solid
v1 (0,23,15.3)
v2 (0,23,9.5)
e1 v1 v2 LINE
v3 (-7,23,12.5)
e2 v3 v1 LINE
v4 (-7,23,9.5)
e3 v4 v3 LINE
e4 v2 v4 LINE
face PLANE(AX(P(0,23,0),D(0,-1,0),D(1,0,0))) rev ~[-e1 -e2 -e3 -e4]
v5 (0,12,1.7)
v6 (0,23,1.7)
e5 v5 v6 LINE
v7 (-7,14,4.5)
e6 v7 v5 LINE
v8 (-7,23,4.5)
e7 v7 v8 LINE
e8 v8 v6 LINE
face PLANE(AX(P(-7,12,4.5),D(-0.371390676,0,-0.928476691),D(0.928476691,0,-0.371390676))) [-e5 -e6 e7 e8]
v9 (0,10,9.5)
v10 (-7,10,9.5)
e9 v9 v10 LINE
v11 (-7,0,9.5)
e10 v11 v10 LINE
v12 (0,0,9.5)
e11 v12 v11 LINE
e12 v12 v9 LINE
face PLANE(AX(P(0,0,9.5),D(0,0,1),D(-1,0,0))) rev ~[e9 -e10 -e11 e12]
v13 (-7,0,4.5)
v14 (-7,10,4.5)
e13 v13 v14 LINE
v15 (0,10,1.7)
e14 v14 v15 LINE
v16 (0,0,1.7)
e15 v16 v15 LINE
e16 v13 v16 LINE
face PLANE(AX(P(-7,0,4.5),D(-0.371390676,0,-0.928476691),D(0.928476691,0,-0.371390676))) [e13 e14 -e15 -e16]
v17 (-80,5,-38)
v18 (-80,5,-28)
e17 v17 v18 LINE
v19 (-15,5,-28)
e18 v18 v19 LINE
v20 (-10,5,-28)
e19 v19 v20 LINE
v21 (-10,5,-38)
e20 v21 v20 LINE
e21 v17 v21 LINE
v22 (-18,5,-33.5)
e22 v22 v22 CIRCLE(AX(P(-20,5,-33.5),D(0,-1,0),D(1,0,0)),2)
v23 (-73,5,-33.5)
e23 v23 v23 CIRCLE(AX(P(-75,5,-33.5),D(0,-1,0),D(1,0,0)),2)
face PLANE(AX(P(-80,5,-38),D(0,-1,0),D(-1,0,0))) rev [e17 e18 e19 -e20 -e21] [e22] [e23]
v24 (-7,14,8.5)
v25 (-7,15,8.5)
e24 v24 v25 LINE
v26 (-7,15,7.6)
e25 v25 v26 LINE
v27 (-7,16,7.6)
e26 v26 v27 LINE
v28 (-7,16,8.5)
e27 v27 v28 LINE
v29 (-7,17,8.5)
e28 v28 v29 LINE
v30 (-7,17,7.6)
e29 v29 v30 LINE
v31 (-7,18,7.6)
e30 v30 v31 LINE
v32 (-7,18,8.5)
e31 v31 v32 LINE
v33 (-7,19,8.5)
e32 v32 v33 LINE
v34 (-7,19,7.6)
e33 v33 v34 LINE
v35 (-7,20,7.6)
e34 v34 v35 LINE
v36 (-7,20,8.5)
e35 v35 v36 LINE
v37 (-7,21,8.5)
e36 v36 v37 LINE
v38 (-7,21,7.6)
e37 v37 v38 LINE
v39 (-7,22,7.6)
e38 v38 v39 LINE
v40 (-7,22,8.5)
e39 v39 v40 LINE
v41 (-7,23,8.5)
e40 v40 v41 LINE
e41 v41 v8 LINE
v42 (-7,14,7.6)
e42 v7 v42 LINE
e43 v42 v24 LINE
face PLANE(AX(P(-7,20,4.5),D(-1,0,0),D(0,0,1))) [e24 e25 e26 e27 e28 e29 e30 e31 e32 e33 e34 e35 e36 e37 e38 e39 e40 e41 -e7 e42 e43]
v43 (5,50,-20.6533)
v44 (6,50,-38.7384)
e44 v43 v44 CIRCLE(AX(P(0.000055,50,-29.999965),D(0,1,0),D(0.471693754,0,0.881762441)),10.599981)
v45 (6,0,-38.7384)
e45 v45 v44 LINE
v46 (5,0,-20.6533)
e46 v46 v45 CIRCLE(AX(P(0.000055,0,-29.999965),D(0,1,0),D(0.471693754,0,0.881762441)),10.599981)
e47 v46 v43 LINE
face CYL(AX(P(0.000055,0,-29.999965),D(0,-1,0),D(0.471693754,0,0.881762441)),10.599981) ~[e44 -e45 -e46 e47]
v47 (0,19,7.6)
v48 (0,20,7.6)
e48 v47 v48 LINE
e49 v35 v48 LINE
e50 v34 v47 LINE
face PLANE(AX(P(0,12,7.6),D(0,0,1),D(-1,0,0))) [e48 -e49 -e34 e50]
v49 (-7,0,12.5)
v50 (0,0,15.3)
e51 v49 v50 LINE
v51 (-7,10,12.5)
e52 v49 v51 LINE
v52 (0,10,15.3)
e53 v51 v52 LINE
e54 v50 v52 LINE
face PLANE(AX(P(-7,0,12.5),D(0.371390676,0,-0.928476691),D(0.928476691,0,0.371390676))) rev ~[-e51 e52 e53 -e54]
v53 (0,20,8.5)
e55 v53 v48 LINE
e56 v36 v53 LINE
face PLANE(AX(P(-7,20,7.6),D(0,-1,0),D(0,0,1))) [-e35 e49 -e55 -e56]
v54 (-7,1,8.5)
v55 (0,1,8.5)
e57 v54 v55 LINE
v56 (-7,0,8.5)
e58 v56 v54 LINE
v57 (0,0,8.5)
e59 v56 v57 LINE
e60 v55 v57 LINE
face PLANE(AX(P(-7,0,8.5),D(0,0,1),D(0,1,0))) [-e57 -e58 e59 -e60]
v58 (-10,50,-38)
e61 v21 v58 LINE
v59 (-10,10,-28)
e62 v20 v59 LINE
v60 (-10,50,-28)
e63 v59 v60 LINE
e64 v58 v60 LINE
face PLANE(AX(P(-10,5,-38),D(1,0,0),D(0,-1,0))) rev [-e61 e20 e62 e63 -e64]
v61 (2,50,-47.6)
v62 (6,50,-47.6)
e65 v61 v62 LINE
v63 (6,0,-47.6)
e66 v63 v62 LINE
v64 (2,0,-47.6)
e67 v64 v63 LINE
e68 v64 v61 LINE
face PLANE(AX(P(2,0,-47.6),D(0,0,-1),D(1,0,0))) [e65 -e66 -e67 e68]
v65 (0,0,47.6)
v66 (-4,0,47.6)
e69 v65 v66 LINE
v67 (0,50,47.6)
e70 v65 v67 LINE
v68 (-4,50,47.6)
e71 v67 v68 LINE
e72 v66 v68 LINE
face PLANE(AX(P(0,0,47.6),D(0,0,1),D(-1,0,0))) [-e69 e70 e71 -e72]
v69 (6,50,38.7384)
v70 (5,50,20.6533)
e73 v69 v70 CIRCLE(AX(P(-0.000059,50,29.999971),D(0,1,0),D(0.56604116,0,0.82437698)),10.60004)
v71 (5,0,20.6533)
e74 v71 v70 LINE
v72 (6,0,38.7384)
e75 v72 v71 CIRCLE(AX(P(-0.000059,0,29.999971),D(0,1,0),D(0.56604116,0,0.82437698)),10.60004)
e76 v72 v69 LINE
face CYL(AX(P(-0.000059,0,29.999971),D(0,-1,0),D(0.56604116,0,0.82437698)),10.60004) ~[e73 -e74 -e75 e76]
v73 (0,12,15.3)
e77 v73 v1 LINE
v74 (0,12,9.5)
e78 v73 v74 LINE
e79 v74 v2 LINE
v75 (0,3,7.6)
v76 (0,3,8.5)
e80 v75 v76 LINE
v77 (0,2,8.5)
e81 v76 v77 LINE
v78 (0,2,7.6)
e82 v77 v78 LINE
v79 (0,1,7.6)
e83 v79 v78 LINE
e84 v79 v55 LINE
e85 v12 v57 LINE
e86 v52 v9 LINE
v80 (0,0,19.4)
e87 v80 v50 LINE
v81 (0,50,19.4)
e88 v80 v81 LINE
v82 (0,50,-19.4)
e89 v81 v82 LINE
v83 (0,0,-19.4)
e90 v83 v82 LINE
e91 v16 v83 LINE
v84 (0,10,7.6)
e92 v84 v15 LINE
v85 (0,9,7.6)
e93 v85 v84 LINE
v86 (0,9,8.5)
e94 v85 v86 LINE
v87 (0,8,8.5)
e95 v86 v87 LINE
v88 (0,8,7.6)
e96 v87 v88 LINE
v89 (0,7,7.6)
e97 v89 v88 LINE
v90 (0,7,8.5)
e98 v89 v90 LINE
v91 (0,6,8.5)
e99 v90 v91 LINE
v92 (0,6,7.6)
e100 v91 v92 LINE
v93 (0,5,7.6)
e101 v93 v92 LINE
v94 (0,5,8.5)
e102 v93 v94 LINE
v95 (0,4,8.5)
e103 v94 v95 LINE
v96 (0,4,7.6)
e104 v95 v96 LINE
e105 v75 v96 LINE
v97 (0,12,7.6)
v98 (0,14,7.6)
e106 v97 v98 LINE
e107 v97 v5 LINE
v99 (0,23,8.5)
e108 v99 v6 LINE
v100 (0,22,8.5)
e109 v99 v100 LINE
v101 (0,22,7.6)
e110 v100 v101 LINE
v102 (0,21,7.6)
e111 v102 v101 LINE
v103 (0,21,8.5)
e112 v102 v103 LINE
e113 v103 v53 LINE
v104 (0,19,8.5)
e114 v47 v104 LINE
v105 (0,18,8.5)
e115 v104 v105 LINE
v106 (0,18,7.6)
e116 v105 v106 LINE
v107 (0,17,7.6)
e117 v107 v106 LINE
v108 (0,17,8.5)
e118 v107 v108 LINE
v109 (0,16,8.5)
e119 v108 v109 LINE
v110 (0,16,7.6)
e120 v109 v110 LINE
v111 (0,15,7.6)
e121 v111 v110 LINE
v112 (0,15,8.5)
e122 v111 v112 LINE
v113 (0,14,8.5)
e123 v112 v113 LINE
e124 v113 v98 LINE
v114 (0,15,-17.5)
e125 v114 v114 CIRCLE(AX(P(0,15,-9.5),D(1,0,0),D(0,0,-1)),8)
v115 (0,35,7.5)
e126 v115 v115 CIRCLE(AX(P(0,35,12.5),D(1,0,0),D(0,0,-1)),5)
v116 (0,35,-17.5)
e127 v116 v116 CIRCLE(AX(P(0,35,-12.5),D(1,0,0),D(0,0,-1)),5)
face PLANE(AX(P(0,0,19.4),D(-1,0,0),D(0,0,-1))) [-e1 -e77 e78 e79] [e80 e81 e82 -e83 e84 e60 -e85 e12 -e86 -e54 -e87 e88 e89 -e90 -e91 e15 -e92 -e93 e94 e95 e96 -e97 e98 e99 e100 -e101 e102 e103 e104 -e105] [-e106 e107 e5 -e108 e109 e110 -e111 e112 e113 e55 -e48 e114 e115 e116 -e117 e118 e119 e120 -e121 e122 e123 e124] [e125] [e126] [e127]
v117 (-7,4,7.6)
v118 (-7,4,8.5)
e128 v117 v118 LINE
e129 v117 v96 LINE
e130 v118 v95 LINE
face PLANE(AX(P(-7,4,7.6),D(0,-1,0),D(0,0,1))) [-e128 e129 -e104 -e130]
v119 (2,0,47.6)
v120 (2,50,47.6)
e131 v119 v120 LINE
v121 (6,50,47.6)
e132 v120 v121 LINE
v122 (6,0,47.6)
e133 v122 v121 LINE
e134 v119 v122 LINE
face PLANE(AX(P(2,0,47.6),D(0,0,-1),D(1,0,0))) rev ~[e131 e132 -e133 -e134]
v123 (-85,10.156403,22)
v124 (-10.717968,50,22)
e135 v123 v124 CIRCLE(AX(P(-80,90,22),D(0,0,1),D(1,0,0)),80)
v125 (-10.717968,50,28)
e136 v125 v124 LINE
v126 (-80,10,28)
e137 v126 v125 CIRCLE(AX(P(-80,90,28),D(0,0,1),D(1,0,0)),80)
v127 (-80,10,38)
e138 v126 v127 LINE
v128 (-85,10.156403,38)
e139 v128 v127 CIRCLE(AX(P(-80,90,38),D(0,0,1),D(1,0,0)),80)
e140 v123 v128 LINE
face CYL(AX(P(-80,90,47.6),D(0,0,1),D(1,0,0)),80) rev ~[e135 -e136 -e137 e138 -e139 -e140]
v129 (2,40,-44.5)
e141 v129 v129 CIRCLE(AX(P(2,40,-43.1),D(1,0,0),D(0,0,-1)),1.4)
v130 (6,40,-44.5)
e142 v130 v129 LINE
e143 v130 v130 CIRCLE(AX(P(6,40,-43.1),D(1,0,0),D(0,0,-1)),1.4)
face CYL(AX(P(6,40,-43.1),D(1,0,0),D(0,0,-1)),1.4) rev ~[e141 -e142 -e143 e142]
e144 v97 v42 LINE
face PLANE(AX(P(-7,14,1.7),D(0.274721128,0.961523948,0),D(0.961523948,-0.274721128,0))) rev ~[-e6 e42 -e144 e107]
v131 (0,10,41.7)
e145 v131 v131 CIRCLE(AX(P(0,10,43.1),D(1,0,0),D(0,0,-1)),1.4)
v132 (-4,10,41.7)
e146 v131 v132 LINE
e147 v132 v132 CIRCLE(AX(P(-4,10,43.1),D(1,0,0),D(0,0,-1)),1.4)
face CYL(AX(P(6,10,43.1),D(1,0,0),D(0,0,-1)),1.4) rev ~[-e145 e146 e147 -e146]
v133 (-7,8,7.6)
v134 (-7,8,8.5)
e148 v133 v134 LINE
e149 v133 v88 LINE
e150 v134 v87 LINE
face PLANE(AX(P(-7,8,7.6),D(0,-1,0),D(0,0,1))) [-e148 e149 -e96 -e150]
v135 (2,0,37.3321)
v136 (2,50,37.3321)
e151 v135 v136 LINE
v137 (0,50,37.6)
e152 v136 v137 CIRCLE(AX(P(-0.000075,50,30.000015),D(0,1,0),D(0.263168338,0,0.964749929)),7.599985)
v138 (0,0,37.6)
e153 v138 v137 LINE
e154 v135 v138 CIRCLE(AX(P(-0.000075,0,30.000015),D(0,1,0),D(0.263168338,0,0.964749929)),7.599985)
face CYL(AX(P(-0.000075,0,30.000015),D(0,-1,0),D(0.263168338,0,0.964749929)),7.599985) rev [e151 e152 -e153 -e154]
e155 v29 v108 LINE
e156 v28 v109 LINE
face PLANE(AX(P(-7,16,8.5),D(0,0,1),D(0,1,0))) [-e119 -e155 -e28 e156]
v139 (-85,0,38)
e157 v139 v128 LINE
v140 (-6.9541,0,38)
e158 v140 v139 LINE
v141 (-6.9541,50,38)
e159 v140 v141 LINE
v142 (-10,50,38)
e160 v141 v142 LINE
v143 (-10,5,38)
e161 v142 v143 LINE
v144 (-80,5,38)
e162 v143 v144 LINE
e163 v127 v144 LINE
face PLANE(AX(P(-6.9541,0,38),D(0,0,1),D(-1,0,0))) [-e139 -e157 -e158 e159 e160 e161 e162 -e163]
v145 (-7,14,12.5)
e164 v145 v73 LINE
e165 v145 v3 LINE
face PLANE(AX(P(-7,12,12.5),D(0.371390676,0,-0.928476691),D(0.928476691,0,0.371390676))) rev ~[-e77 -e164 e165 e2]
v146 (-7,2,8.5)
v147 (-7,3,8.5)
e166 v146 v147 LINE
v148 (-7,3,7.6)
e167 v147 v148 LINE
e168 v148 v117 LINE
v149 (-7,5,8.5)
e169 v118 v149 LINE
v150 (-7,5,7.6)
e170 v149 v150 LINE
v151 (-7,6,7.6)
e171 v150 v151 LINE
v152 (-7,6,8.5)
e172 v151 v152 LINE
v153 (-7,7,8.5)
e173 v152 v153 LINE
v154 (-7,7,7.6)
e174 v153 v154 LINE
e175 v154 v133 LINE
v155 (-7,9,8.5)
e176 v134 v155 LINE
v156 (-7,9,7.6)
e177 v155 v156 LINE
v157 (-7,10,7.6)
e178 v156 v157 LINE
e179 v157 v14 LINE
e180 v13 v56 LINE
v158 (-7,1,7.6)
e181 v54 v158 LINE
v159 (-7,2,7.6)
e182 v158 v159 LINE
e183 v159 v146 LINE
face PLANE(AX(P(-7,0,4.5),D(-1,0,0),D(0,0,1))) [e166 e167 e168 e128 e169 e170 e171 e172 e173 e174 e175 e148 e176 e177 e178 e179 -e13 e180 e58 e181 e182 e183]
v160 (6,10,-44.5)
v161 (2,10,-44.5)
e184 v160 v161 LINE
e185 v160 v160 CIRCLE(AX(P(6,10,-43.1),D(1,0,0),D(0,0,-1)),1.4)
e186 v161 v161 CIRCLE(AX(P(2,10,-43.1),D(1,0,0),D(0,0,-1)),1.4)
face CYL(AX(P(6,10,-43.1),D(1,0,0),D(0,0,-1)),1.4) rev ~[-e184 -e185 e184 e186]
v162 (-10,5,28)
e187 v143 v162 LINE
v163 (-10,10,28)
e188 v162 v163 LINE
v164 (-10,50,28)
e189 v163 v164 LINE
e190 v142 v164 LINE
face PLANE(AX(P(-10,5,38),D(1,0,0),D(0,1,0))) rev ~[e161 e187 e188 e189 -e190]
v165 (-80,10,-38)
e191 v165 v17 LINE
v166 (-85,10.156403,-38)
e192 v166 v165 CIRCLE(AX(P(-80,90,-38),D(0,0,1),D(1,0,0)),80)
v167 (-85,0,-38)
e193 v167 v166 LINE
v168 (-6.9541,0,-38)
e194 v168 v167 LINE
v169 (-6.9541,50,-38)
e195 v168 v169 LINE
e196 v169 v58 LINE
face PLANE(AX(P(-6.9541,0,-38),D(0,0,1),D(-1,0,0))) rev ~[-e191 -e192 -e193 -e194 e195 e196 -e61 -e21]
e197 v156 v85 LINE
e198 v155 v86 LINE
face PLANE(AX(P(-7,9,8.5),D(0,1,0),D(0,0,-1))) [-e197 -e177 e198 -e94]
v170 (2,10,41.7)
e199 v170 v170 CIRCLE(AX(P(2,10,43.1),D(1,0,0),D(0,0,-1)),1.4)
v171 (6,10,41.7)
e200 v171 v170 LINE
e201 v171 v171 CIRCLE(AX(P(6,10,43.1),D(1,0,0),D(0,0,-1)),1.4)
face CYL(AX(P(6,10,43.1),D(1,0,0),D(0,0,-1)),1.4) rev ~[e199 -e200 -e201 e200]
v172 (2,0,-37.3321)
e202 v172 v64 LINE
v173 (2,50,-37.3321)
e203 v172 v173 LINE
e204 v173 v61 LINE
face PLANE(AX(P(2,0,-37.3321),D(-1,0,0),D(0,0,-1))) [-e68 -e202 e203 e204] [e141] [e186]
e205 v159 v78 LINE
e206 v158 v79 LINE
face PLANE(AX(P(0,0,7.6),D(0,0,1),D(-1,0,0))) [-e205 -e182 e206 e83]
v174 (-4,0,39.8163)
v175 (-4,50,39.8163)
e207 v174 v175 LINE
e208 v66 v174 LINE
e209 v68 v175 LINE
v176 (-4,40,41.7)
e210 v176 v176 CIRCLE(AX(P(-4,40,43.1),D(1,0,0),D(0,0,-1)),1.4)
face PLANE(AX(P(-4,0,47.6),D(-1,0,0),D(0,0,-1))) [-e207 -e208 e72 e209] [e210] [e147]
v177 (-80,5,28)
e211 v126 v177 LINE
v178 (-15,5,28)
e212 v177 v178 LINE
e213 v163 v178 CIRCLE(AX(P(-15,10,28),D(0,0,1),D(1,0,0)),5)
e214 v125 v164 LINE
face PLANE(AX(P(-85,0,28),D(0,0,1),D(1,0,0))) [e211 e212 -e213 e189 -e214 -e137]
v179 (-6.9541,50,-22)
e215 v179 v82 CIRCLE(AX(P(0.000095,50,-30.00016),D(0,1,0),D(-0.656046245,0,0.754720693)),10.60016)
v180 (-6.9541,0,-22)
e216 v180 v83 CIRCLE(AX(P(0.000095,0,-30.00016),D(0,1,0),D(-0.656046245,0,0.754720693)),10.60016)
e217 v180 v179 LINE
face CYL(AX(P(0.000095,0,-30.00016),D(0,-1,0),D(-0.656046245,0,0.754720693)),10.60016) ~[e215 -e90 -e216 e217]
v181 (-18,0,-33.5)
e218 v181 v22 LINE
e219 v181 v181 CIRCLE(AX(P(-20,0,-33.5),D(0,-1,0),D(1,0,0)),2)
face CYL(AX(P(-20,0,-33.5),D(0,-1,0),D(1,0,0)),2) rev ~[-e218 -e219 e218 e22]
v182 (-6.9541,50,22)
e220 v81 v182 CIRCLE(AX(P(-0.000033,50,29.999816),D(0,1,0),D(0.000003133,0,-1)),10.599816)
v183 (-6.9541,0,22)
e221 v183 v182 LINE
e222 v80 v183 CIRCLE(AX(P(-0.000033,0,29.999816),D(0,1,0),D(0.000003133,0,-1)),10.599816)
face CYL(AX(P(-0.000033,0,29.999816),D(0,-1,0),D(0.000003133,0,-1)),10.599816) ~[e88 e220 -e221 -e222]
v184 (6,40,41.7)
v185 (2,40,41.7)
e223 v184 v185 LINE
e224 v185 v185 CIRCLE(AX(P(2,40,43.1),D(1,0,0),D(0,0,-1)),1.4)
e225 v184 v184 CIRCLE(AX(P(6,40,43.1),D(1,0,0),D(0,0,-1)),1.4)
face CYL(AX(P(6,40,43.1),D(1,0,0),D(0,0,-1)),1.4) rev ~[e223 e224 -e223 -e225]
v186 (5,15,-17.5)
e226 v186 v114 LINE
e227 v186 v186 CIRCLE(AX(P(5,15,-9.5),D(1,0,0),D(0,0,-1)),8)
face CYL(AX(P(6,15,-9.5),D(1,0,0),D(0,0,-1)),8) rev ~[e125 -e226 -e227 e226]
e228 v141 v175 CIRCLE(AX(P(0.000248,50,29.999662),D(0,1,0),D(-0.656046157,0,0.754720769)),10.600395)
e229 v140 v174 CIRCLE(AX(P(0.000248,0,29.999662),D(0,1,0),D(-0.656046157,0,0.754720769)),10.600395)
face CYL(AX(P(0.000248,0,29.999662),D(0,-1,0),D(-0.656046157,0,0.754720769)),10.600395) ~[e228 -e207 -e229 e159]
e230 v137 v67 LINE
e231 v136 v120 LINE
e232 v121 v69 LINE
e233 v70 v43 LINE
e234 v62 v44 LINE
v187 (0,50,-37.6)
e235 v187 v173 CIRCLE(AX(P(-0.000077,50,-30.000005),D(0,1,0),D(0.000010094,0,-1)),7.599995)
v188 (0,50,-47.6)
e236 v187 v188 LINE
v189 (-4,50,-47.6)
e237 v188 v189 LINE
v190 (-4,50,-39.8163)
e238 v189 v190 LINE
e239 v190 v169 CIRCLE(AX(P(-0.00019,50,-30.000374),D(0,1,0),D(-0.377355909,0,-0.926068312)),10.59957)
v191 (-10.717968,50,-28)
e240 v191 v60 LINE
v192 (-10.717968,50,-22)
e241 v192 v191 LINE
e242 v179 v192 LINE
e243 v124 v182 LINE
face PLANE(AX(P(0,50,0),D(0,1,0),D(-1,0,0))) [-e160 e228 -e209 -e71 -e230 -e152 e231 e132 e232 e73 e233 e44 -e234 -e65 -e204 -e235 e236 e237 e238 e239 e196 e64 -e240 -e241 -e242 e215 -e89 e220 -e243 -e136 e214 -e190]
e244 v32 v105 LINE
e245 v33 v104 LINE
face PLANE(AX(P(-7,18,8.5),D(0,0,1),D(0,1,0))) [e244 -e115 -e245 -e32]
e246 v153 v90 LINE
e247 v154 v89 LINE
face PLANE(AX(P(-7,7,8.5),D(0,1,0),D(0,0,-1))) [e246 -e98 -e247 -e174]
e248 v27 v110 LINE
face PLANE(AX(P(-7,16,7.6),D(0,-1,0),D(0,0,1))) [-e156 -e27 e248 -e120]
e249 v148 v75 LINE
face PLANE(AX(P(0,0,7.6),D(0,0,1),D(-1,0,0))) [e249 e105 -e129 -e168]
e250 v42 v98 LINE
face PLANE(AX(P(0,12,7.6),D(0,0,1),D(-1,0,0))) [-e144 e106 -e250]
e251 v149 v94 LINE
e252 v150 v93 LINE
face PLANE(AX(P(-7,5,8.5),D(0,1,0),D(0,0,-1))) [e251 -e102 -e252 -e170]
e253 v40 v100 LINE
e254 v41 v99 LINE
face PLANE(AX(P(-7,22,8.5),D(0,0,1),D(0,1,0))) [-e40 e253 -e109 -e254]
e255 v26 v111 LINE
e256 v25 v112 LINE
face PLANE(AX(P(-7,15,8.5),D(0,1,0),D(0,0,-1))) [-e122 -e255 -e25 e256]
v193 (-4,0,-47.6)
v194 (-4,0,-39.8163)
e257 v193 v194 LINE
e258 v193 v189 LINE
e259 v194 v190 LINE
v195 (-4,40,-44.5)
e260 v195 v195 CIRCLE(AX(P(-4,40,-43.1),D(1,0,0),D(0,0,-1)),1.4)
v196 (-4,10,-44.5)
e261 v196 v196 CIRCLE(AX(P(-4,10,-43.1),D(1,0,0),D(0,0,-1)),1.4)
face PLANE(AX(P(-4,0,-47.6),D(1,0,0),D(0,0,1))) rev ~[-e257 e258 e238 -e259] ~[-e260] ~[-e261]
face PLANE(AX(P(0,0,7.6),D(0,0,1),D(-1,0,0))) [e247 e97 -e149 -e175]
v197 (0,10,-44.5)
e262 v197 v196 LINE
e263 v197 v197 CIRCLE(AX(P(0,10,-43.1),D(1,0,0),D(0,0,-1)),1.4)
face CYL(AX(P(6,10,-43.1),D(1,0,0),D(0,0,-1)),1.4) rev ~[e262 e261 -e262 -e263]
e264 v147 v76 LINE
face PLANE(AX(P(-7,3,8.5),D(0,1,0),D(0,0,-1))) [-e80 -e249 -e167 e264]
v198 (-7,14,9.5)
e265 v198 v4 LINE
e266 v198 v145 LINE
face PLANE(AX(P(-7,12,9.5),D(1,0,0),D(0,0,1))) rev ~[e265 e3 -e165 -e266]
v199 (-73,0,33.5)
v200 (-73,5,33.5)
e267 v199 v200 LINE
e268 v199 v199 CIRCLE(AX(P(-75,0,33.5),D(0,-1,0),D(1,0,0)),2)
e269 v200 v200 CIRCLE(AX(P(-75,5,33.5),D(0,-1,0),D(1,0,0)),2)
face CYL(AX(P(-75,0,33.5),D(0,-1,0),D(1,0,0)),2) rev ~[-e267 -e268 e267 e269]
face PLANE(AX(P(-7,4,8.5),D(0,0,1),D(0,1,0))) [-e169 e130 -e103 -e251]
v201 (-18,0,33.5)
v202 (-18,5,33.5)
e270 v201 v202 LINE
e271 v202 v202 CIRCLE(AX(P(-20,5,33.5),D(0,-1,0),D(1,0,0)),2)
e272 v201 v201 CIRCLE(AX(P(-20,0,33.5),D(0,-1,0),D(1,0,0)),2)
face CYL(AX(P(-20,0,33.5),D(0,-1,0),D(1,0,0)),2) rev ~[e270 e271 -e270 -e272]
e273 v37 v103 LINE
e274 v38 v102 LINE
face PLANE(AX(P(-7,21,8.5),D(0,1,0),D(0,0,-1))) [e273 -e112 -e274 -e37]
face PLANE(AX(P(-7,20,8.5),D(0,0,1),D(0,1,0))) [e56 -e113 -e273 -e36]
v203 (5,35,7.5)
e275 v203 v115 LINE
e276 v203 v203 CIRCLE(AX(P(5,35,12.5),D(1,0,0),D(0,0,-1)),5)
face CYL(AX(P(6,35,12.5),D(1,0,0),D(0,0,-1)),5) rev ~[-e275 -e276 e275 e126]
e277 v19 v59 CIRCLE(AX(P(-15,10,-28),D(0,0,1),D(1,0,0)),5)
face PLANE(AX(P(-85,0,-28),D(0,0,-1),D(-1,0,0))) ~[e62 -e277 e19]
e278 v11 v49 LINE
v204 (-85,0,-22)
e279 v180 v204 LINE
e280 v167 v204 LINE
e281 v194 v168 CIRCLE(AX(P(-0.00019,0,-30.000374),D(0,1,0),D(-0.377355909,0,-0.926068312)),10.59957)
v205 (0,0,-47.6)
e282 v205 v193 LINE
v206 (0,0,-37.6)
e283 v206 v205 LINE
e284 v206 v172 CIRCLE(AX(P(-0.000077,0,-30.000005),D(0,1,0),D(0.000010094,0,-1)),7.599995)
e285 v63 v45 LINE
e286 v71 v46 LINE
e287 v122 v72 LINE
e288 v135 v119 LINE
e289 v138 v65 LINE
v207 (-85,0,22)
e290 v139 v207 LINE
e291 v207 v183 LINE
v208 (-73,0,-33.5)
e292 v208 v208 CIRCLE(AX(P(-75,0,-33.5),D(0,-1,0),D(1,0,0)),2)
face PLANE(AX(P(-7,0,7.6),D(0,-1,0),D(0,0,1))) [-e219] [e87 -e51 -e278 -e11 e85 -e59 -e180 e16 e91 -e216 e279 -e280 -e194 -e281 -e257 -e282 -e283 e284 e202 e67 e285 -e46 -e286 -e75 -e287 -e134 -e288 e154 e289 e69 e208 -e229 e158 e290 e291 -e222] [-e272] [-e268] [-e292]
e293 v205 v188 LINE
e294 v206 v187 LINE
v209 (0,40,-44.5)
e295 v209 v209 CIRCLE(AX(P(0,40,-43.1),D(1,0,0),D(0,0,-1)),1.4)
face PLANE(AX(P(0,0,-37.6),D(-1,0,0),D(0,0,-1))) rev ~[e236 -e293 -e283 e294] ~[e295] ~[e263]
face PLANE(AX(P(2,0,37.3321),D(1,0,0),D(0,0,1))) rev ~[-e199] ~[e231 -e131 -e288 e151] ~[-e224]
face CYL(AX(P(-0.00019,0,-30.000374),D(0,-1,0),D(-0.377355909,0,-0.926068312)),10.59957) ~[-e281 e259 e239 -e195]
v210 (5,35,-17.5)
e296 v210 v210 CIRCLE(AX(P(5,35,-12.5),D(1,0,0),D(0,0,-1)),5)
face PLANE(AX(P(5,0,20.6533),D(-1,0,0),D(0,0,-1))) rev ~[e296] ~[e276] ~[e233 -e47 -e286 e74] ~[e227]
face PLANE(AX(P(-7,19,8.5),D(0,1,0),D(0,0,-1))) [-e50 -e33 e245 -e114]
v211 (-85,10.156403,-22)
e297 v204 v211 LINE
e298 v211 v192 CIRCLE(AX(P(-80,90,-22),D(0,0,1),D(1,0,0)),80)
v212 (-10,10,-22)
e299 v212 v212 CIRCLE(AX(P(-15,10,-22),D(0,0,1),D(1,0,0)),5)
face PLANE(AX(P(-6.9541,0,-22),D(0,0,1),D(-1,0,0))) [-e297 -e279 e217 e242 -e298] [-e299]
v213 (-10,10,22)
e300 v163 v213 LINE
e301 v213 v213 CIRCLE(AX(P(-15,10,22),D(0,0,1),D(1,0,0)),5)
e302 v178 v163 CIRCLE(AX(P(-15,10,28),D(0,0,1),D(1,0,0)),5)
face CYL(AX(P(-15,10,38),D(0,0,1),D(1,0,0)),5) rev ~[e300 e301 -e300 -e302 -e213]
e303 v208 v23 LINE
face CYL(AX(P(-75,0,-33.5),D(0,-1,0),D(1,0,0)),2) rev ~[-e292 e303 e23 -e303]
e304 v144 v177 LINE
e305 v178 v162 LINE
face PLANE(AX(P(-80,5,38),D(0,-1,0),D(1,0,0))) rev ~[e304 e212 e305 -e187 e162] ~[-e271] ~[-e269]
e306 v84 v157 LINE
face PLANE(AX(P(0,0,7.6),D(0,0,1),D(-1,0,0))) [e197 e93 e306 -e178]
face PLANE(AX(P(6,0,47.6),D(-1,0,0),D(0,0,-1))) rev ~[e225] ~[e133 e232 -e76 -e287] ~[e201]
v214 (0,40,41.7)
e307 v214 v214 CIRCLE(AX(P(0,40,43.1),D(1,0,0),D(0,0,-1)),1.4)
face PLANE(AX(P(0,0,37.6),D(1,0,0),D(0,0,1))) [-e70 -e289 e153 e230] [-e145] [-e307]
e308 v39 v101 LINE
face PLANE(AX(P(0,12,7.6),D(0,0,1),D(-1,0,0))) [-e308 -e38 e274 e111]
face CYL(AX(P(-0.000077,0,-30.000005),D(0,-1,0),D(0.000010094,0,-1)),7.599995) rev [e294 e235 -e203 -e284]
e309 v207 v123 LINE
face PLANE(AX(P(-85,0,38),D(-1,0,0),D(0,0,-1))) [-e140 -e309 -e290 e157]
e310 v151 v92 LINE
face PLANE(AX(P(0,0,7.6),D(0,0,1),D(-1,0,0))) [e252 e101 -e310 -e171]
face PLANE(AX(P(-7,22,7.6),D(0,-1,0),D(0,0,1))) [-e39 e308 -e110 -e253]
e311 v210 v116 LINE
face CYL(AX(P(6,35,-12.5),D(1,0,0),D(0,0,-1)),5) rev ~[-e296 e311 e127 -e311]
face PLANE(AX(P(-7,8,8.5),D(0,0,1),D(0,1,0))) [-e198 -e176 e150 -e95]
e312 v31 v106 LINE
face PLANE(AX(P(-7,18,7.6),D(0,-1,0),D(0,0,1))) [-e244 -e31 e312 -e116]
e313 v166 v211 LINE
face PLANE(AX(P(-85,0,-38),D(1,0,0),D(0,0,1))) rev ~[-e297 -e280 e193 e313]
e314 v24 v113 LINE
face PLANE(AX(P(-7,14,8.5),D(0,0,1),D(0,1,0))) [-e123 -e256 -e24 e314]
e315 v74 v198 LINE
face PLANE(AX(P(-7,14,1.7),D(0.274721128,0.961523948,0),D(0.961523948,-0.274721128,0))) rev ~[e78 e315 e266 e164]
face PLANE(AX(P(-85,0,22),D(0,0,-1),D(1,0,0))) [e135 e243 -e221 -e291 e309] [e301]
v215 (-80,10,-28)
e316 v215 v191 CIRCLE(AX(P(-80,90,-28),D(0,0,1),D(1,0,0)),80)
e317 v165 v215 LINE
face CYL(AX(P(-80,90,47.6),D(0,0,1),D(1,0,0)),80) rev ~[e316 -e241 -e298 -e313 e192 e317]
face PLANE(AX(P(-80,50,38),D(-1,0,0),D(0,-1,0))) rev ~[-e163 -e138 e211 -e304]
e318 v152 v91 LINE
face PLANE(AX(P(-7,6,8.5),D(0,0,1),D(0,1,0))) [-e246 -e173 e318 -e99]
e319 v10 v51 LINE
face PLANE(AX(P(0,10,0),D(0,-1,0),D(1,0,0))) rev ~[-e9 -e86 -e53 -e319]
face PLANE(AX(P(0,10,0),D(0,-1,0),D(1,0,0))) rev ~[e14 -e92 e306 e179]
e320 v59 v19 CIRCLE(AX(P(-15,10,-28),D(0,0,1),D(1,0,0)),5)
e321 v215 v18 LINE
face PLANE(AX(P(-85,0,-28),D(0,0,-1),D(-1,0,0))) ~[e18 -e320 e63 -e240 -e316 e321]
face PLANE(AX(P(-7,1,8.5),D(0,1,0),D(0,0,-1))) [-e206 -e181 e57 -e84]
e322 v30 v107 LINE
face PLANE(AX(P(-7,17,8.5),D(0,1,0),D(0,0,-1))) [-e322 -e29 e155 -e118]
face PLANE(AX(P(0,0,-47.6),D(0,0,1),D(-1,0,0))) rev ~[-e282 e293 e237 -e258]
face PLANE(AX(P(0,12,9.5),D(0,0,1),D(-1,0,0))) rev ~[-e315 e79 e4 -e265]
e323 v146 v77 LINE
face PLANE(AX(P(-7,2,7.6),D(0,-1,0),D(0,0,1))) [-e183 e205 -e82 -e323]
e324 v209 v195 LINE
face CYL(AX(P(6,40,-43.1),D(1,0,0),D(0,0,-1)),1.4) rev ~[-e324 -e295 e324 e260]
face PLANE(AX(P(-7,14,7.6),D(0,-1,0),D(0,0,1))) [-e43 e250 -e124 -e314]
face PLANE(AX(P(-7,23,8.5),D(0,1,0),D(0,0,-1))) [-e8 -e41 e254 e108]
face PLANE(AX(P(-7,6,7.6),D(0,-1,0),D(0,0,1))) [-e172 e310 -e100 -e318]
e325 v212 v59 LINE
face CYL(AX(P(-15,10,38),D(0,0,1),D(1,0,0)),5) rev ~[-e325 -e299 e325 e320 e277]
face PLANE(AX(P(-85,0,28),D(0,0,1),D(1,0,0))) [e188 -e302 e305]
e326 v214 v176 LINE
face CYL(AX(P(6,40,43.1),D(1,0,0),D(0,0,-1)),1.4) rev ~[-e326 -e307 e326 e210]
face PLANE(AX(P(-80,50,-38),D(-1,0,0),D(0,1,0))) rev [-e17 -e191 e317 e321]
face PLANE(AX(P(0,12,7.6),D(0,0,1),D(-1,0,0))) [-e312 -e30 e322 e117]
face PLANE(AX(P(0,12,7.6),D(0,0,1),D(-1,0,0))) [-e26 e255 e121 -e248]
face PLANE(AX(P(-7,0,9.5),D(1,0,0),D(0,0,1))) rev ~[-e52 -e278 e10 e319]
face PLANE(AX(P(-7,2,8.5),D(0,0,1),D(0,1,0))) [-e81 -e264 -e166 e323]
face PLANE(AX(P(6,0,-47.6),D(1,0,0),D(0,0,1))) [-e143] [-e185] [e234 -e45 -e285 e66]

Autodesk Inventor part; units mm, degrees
ref_plane "YZ Plane" through (0, 0, 0) normal (1, 0, 0) x (0, 1, 0)
sketch "Sketch1" plane through (0, 0, 0) normal (0, 1, 0) x (-1, 0, 0)
  line L0 (0, 19.4) -> (0, -19.4)
  line L1 (-5, 20.6533) -> (-5, -20.6533)
  arc A0 (-6, 38.7384) -> (-5, 20.6533) centre (0, 30) ccw
  arc A1 (-2, 37.3321) -> (0, 37.6) centre (0, 30) ccw
  arc A2 (0, 19.4) -> (6.9541, 22) centre (0, 30) ccw
  arc A3 (0, -37.6) -> (-2, -37.3321) centre (0, -30) ccw
  arc A4 (6.9541, -22) -> (0, -19.4) centre (0, -30) ccw
  arc A5 (-5, -20.6533) -> (-6, -38.7384) centre (0, -30) ccw
  line L2 (0, -37.6) -> (0, -47.6)
  line L3 (0, -47.6) -> (4, -47.6)
  line L4 (4, -47.6) -> (4, -39.8163)
  line L5 (-2, -37.3321) -> (-2, -47.6)
  line L6 (-2, -47.6) -> (-6, -47.6)
  line L7 (-6, -47.6) -> (-6, -38.7384)
  line L8 (0, 37.6) -> (0, 47.6)
  line L9 (0, 47.6) -> (4, 47.6)
  line L10 (4, 47.6) -> (4, 39.8163)
  line L11 (-2, 37.3321) -> (-2, 47.6)
  line L12 (-2, 47.6) -> (-6, 47.6)
  line L13 (-6, 47.6) -> (-6, 38.7384)
  arc A6 (6.9541, 38) -> (4, 39.8163) centre (0, 30) ccw
  arc A7 (4, -39.8163) -> (6.9541, -38) centre (0, -30) ccw
  line L14 (6.9541, 38) -> (85, 38)
  line L15 (85, 38) -> (85, 22)
  line L16 (85, 22) -> (6.9541, 22)
  line L17 (6.9541, -22) -> (85, -22)
  line L18 (6.9541, -38) -> (85, -38)
  line L19 (85, -38) -> (85, -22)
  point P0 (0, 0)
  point P1 (0, 0)
  point P2 (85, 30)
  point P3 (85, -30)
  dimension "d5" = 5
  dimension "d6" = 30
  dimension "d7" = 10.6
  dimension "d8" = 7.6
  dimension "d9" = 30
  dimension "d10" = 4
  dimension "d11" = 4
  dimension "d12" = 47.6
  dimension "d13" = 47.6
  dimension "d14" = 2
  dimension "d15" = 2
  dimension "d16" = 4
  dimension "d17" = 4
  dimension "d18" = 16
  dimension "d19" = 16
  dimension "d20" = 85
  dimension "d21" = 85
extrude "Extrusion1" add sketch "Sketch1" along normal blind 50
sketch "Sketch2" plane through (2, 0, 47.6) normal (0, 0, 1) x (1, 0, 0)
  circle A0 centre (-82, 90) radius 80
  line L0 (-87, 50) -> (-8.9541, 50) projected
  point P0 (-2, 0)
  dimension "d24" = 160
  dimension "d25" = 80
  dimension "d26" = 40
extrude "Extrusion2" cut sketch "Sketch2" against normal through all
sketch "Sketch3" plane through (-85, 0, 38) normal (0, 0, 1) x (1, 0, 0)
  circle A0 centre (70, 10) radius 5
  line L0 (78.0459, 0) -> (0, 0) projected
  line L1 (85, 0) -> (85, 50) projected
  dimension "d29" = 10
  dimension "d30" = 10
  dimension "d31" = 15
extrude "Extrusion3" cut sketch "Sketch3" against normal through all
sketch "Sketch4" plane through (-85, 0, 38) normal (0, 0, 1) x (1, 0, 0)
  line L0 (74.282, 50) -> (78.0459, 50) projected
  line L1 (75, 50) -> (5, 50)
  line L2 (5, 50) -> (5, 5)
  line L3 (5, 5) -> (75, 5)
  line L4 (75, 5) -> (75, 50)
  line L5 (0, 0) -> (0, 10.1564) projected
  line L6 (78.0459, 0) -> (0, 0) projected
  point P0 (85, 0)
  dimension "d34" = 5
  dimension "d35" = 5
  dimension "d36" = 70
extrude "Extrusion4" cut sketch "Sketch4" against normal blind 10
mirror "Mirror1" about plane through (0, 0, 0) normal (0, 0, 1) of "Extrusion4"
sketch "Sketch5" plane through (0, 0, 0) normal (0, -1, 0) x (1, 0, 0)
  circle A0 centre (-75, -33.5) radius 2
  circle A1 centre (-20, -33.5) radius 2
  circle A2 centre (-75, 33.5) radius 2
  circle A3 centre (-20, 33.5) radius 2
  line L0 (0, 19.4) -> (0, -19.4) projected
  point P0 (0, 0)
  dimension "d39" = 4
  dimension "d40" = 20
  dimension "d41" = 55
  dimension "d42" = 33.5
  dimension "d43" = 33.5
extrude "Extrusion5" cut sketch "Sketch5" against normal up to next
sketch "Sketch6" plane through (6, 0, 47.6) normal (1, 0, 0) x (0, 0, -1)
  circle A0 centre (4.5, 40) radius 1.4
  circle A1 centre (4.5, 10) radius 1.4
  circle A2 centre (90.7, 40) radius 1.4
  circle A3 centre (90.7, 10) radius 1.4
  circle A4 centre (35.1, 35) radius 5
  circle A5 centre (60.1, 35) radius 5
  circle A6 centre (57.1, 15) radius 8
  line L0 (95.2, 0) -> (95.2, 50) projected
  point P0 (47.6, 0)
  dimension "d46" = 2.8
  dimension "d47" = 86.2
  dimension "d48" = 43.1
  dimension "d49" = 10
  dimension "d50" = 30
  dimension "d51" = 10
  dimension "d52" = 16
  dimension "d53" = 25
  dimension "d54" = 12.5
  dimension "d55" = 35
  dimension "d56" = 15
  dimension "d58" = 9.5
extrude "Extrusion6" cut sketch "Sketch6" against normal through all
sketch "Sketch7" plane through (0, 0, 0) normal (0, -1, 0) x (1, 0, 0)
  line L0 (0, 9.5) -> (-7, 9.5)
  line L1 (-7, 9.5) -> (-7, 12.5)
  line L2 (-7, 12.5) -> (0, 15.3)
  line L3 (0, 19.4) -> (0, -19.4) projected
  line L4 (0, 15.3) -> (0, 9.5)
  line L5 (0, 7.6) -> (-7, 7.6)
  line L6 (-7, 7.6) -> (-7, 4.5)
  line L7 (-7, 4.5) -> (0, 1.7)
  line L8 (0, 7.6) -> (0, 1.7)
  line L9 (0, 47.6) -> (-4, 47.6) projected
  point P0 (0, 0)
  dimension "d61" = 7
  dimension "d62" = 1.9
  dimension "d63" = 3.1
  dimension "d64" = 3
  dimension "d65" = 5.8
  dimension "d66" = 5.9
  dimension "d68" = 9.5
extrude "Extrusion7" add sketch "Sketch7" against normal blind 10
ref_plane "Work Plane1" through (0, 12, 0) normal (0, -1, 0) x (1, 0, 0)
sketch "Sketch8" plane through (0, 12, 0) normal (0, -1, 0) x (1, 0, 0)
  line L0 (0, 9.5) -> (-7, 9.5)
  line L1 (-7, 9.5) -> (-7, 12.5)
  line L2 (-7, 12.5) -> (0, 15.3)
  line L3 (0, 15.3) -> (0, 9.5)
  line L4 (0, 7.6) -> (-7, 7.6)
  line L5 (-7, 7.6) -> (-7, 4.5)
  line L6 (-7, 4.5) -> (0, 1.7)
  line L7 (0, 7.6) -> (0, 1.7)
  point P0 (0, 0)
  dimension "d72" = 7
  dimension "d73" = 1.9
  dimension "d74" = 3.1
  dimension "d75" = 3
  dimension "d76" = 5.8
  dimension "d77" = 5.9
  dimension "d78" = 9.5
extrude "Extrusion8" add sketch "Sketch8" against normal blind 11
sketch "Sketch9" plane through (-7, 0, 4.5) normal (-1, 0, 0) x (0, 0, 1)
  line L0 (3.1, 0) -> (4, 0)
  line L1 (4, 0) -> (4, 1)
  line L2 (4, 1) -> (3.1, 1)
  line L3 (3.1, 1) -> (3.1, 0)
  point P0 (-4.5, 0)
  dimension "d81" = 0.9
  dimension "d82" = 1
extrude "Extrusion9" add sketch "Sketch9" against normal up to next
pattern_linear "Rectangular Pattern1" count 5 spacing 2 along (0, 1, 0) of "Extrusion9"
sketch "Sketch10" plane through (-7, 12, 4.5) normal (-1, 0, 0) x (0, 0, 1)
  line L0 (3.1, 2) -> (4, 2)
  line L1 (4, 2) -> (4, 3)
  line L2 (4, 3) -> (3.1, 3)
  line L3 (3.1, 3) -> (3.1, 2)
  line L4 (0, 0) -> (3.1, 0) projected
  point P0 (-4.5, -12)
  dimension "d91" = 0.9
  dimension "d92" = 1
  dimension "d98" = 2
extrude "Extrusion10" add sketch "Sketch10" against normal up to next
pattern_linear "Rectangular Pattern3" count 5 spacing 2 along (0, 1, 0) of "Extrusion10"
ref_plane "Work Plane2" through (0, 12, 1.7) normal (0, 0, 1) x (1, 0, 0)
sketch "Sketch11" plane through (0, 12, 1.7) normal (0, 0, 1) x (1, 0, 0)
  line L0 (0, 0) -> (-7, 0)
  line L1 (-7, 0) -> (-7, 2)
  line L2 (-7, 2) -> (0, 0)
  point P0 (0, -12)
  point P1 (0, 0)
  dimension "d102" = 7
  dimension "d103" = 2
extrude "Extrusion11" cut sketch "Sketch11" along normal blind 14
equation "\"d9\" = d6"
equation "\"d10\" = d11"
equation "\"d13\" = d12"
equation "\"d14\" = d15"
equation "\"d16\" = d11"
equation "\"d17\" = d11"
equation "\"d19\" = d18"
equation "\"d21\" = d20"
equation "\"d43\" = d42"
equation "\"d54\" = 0.5 * d53"
properties material "ABS Plastic"
